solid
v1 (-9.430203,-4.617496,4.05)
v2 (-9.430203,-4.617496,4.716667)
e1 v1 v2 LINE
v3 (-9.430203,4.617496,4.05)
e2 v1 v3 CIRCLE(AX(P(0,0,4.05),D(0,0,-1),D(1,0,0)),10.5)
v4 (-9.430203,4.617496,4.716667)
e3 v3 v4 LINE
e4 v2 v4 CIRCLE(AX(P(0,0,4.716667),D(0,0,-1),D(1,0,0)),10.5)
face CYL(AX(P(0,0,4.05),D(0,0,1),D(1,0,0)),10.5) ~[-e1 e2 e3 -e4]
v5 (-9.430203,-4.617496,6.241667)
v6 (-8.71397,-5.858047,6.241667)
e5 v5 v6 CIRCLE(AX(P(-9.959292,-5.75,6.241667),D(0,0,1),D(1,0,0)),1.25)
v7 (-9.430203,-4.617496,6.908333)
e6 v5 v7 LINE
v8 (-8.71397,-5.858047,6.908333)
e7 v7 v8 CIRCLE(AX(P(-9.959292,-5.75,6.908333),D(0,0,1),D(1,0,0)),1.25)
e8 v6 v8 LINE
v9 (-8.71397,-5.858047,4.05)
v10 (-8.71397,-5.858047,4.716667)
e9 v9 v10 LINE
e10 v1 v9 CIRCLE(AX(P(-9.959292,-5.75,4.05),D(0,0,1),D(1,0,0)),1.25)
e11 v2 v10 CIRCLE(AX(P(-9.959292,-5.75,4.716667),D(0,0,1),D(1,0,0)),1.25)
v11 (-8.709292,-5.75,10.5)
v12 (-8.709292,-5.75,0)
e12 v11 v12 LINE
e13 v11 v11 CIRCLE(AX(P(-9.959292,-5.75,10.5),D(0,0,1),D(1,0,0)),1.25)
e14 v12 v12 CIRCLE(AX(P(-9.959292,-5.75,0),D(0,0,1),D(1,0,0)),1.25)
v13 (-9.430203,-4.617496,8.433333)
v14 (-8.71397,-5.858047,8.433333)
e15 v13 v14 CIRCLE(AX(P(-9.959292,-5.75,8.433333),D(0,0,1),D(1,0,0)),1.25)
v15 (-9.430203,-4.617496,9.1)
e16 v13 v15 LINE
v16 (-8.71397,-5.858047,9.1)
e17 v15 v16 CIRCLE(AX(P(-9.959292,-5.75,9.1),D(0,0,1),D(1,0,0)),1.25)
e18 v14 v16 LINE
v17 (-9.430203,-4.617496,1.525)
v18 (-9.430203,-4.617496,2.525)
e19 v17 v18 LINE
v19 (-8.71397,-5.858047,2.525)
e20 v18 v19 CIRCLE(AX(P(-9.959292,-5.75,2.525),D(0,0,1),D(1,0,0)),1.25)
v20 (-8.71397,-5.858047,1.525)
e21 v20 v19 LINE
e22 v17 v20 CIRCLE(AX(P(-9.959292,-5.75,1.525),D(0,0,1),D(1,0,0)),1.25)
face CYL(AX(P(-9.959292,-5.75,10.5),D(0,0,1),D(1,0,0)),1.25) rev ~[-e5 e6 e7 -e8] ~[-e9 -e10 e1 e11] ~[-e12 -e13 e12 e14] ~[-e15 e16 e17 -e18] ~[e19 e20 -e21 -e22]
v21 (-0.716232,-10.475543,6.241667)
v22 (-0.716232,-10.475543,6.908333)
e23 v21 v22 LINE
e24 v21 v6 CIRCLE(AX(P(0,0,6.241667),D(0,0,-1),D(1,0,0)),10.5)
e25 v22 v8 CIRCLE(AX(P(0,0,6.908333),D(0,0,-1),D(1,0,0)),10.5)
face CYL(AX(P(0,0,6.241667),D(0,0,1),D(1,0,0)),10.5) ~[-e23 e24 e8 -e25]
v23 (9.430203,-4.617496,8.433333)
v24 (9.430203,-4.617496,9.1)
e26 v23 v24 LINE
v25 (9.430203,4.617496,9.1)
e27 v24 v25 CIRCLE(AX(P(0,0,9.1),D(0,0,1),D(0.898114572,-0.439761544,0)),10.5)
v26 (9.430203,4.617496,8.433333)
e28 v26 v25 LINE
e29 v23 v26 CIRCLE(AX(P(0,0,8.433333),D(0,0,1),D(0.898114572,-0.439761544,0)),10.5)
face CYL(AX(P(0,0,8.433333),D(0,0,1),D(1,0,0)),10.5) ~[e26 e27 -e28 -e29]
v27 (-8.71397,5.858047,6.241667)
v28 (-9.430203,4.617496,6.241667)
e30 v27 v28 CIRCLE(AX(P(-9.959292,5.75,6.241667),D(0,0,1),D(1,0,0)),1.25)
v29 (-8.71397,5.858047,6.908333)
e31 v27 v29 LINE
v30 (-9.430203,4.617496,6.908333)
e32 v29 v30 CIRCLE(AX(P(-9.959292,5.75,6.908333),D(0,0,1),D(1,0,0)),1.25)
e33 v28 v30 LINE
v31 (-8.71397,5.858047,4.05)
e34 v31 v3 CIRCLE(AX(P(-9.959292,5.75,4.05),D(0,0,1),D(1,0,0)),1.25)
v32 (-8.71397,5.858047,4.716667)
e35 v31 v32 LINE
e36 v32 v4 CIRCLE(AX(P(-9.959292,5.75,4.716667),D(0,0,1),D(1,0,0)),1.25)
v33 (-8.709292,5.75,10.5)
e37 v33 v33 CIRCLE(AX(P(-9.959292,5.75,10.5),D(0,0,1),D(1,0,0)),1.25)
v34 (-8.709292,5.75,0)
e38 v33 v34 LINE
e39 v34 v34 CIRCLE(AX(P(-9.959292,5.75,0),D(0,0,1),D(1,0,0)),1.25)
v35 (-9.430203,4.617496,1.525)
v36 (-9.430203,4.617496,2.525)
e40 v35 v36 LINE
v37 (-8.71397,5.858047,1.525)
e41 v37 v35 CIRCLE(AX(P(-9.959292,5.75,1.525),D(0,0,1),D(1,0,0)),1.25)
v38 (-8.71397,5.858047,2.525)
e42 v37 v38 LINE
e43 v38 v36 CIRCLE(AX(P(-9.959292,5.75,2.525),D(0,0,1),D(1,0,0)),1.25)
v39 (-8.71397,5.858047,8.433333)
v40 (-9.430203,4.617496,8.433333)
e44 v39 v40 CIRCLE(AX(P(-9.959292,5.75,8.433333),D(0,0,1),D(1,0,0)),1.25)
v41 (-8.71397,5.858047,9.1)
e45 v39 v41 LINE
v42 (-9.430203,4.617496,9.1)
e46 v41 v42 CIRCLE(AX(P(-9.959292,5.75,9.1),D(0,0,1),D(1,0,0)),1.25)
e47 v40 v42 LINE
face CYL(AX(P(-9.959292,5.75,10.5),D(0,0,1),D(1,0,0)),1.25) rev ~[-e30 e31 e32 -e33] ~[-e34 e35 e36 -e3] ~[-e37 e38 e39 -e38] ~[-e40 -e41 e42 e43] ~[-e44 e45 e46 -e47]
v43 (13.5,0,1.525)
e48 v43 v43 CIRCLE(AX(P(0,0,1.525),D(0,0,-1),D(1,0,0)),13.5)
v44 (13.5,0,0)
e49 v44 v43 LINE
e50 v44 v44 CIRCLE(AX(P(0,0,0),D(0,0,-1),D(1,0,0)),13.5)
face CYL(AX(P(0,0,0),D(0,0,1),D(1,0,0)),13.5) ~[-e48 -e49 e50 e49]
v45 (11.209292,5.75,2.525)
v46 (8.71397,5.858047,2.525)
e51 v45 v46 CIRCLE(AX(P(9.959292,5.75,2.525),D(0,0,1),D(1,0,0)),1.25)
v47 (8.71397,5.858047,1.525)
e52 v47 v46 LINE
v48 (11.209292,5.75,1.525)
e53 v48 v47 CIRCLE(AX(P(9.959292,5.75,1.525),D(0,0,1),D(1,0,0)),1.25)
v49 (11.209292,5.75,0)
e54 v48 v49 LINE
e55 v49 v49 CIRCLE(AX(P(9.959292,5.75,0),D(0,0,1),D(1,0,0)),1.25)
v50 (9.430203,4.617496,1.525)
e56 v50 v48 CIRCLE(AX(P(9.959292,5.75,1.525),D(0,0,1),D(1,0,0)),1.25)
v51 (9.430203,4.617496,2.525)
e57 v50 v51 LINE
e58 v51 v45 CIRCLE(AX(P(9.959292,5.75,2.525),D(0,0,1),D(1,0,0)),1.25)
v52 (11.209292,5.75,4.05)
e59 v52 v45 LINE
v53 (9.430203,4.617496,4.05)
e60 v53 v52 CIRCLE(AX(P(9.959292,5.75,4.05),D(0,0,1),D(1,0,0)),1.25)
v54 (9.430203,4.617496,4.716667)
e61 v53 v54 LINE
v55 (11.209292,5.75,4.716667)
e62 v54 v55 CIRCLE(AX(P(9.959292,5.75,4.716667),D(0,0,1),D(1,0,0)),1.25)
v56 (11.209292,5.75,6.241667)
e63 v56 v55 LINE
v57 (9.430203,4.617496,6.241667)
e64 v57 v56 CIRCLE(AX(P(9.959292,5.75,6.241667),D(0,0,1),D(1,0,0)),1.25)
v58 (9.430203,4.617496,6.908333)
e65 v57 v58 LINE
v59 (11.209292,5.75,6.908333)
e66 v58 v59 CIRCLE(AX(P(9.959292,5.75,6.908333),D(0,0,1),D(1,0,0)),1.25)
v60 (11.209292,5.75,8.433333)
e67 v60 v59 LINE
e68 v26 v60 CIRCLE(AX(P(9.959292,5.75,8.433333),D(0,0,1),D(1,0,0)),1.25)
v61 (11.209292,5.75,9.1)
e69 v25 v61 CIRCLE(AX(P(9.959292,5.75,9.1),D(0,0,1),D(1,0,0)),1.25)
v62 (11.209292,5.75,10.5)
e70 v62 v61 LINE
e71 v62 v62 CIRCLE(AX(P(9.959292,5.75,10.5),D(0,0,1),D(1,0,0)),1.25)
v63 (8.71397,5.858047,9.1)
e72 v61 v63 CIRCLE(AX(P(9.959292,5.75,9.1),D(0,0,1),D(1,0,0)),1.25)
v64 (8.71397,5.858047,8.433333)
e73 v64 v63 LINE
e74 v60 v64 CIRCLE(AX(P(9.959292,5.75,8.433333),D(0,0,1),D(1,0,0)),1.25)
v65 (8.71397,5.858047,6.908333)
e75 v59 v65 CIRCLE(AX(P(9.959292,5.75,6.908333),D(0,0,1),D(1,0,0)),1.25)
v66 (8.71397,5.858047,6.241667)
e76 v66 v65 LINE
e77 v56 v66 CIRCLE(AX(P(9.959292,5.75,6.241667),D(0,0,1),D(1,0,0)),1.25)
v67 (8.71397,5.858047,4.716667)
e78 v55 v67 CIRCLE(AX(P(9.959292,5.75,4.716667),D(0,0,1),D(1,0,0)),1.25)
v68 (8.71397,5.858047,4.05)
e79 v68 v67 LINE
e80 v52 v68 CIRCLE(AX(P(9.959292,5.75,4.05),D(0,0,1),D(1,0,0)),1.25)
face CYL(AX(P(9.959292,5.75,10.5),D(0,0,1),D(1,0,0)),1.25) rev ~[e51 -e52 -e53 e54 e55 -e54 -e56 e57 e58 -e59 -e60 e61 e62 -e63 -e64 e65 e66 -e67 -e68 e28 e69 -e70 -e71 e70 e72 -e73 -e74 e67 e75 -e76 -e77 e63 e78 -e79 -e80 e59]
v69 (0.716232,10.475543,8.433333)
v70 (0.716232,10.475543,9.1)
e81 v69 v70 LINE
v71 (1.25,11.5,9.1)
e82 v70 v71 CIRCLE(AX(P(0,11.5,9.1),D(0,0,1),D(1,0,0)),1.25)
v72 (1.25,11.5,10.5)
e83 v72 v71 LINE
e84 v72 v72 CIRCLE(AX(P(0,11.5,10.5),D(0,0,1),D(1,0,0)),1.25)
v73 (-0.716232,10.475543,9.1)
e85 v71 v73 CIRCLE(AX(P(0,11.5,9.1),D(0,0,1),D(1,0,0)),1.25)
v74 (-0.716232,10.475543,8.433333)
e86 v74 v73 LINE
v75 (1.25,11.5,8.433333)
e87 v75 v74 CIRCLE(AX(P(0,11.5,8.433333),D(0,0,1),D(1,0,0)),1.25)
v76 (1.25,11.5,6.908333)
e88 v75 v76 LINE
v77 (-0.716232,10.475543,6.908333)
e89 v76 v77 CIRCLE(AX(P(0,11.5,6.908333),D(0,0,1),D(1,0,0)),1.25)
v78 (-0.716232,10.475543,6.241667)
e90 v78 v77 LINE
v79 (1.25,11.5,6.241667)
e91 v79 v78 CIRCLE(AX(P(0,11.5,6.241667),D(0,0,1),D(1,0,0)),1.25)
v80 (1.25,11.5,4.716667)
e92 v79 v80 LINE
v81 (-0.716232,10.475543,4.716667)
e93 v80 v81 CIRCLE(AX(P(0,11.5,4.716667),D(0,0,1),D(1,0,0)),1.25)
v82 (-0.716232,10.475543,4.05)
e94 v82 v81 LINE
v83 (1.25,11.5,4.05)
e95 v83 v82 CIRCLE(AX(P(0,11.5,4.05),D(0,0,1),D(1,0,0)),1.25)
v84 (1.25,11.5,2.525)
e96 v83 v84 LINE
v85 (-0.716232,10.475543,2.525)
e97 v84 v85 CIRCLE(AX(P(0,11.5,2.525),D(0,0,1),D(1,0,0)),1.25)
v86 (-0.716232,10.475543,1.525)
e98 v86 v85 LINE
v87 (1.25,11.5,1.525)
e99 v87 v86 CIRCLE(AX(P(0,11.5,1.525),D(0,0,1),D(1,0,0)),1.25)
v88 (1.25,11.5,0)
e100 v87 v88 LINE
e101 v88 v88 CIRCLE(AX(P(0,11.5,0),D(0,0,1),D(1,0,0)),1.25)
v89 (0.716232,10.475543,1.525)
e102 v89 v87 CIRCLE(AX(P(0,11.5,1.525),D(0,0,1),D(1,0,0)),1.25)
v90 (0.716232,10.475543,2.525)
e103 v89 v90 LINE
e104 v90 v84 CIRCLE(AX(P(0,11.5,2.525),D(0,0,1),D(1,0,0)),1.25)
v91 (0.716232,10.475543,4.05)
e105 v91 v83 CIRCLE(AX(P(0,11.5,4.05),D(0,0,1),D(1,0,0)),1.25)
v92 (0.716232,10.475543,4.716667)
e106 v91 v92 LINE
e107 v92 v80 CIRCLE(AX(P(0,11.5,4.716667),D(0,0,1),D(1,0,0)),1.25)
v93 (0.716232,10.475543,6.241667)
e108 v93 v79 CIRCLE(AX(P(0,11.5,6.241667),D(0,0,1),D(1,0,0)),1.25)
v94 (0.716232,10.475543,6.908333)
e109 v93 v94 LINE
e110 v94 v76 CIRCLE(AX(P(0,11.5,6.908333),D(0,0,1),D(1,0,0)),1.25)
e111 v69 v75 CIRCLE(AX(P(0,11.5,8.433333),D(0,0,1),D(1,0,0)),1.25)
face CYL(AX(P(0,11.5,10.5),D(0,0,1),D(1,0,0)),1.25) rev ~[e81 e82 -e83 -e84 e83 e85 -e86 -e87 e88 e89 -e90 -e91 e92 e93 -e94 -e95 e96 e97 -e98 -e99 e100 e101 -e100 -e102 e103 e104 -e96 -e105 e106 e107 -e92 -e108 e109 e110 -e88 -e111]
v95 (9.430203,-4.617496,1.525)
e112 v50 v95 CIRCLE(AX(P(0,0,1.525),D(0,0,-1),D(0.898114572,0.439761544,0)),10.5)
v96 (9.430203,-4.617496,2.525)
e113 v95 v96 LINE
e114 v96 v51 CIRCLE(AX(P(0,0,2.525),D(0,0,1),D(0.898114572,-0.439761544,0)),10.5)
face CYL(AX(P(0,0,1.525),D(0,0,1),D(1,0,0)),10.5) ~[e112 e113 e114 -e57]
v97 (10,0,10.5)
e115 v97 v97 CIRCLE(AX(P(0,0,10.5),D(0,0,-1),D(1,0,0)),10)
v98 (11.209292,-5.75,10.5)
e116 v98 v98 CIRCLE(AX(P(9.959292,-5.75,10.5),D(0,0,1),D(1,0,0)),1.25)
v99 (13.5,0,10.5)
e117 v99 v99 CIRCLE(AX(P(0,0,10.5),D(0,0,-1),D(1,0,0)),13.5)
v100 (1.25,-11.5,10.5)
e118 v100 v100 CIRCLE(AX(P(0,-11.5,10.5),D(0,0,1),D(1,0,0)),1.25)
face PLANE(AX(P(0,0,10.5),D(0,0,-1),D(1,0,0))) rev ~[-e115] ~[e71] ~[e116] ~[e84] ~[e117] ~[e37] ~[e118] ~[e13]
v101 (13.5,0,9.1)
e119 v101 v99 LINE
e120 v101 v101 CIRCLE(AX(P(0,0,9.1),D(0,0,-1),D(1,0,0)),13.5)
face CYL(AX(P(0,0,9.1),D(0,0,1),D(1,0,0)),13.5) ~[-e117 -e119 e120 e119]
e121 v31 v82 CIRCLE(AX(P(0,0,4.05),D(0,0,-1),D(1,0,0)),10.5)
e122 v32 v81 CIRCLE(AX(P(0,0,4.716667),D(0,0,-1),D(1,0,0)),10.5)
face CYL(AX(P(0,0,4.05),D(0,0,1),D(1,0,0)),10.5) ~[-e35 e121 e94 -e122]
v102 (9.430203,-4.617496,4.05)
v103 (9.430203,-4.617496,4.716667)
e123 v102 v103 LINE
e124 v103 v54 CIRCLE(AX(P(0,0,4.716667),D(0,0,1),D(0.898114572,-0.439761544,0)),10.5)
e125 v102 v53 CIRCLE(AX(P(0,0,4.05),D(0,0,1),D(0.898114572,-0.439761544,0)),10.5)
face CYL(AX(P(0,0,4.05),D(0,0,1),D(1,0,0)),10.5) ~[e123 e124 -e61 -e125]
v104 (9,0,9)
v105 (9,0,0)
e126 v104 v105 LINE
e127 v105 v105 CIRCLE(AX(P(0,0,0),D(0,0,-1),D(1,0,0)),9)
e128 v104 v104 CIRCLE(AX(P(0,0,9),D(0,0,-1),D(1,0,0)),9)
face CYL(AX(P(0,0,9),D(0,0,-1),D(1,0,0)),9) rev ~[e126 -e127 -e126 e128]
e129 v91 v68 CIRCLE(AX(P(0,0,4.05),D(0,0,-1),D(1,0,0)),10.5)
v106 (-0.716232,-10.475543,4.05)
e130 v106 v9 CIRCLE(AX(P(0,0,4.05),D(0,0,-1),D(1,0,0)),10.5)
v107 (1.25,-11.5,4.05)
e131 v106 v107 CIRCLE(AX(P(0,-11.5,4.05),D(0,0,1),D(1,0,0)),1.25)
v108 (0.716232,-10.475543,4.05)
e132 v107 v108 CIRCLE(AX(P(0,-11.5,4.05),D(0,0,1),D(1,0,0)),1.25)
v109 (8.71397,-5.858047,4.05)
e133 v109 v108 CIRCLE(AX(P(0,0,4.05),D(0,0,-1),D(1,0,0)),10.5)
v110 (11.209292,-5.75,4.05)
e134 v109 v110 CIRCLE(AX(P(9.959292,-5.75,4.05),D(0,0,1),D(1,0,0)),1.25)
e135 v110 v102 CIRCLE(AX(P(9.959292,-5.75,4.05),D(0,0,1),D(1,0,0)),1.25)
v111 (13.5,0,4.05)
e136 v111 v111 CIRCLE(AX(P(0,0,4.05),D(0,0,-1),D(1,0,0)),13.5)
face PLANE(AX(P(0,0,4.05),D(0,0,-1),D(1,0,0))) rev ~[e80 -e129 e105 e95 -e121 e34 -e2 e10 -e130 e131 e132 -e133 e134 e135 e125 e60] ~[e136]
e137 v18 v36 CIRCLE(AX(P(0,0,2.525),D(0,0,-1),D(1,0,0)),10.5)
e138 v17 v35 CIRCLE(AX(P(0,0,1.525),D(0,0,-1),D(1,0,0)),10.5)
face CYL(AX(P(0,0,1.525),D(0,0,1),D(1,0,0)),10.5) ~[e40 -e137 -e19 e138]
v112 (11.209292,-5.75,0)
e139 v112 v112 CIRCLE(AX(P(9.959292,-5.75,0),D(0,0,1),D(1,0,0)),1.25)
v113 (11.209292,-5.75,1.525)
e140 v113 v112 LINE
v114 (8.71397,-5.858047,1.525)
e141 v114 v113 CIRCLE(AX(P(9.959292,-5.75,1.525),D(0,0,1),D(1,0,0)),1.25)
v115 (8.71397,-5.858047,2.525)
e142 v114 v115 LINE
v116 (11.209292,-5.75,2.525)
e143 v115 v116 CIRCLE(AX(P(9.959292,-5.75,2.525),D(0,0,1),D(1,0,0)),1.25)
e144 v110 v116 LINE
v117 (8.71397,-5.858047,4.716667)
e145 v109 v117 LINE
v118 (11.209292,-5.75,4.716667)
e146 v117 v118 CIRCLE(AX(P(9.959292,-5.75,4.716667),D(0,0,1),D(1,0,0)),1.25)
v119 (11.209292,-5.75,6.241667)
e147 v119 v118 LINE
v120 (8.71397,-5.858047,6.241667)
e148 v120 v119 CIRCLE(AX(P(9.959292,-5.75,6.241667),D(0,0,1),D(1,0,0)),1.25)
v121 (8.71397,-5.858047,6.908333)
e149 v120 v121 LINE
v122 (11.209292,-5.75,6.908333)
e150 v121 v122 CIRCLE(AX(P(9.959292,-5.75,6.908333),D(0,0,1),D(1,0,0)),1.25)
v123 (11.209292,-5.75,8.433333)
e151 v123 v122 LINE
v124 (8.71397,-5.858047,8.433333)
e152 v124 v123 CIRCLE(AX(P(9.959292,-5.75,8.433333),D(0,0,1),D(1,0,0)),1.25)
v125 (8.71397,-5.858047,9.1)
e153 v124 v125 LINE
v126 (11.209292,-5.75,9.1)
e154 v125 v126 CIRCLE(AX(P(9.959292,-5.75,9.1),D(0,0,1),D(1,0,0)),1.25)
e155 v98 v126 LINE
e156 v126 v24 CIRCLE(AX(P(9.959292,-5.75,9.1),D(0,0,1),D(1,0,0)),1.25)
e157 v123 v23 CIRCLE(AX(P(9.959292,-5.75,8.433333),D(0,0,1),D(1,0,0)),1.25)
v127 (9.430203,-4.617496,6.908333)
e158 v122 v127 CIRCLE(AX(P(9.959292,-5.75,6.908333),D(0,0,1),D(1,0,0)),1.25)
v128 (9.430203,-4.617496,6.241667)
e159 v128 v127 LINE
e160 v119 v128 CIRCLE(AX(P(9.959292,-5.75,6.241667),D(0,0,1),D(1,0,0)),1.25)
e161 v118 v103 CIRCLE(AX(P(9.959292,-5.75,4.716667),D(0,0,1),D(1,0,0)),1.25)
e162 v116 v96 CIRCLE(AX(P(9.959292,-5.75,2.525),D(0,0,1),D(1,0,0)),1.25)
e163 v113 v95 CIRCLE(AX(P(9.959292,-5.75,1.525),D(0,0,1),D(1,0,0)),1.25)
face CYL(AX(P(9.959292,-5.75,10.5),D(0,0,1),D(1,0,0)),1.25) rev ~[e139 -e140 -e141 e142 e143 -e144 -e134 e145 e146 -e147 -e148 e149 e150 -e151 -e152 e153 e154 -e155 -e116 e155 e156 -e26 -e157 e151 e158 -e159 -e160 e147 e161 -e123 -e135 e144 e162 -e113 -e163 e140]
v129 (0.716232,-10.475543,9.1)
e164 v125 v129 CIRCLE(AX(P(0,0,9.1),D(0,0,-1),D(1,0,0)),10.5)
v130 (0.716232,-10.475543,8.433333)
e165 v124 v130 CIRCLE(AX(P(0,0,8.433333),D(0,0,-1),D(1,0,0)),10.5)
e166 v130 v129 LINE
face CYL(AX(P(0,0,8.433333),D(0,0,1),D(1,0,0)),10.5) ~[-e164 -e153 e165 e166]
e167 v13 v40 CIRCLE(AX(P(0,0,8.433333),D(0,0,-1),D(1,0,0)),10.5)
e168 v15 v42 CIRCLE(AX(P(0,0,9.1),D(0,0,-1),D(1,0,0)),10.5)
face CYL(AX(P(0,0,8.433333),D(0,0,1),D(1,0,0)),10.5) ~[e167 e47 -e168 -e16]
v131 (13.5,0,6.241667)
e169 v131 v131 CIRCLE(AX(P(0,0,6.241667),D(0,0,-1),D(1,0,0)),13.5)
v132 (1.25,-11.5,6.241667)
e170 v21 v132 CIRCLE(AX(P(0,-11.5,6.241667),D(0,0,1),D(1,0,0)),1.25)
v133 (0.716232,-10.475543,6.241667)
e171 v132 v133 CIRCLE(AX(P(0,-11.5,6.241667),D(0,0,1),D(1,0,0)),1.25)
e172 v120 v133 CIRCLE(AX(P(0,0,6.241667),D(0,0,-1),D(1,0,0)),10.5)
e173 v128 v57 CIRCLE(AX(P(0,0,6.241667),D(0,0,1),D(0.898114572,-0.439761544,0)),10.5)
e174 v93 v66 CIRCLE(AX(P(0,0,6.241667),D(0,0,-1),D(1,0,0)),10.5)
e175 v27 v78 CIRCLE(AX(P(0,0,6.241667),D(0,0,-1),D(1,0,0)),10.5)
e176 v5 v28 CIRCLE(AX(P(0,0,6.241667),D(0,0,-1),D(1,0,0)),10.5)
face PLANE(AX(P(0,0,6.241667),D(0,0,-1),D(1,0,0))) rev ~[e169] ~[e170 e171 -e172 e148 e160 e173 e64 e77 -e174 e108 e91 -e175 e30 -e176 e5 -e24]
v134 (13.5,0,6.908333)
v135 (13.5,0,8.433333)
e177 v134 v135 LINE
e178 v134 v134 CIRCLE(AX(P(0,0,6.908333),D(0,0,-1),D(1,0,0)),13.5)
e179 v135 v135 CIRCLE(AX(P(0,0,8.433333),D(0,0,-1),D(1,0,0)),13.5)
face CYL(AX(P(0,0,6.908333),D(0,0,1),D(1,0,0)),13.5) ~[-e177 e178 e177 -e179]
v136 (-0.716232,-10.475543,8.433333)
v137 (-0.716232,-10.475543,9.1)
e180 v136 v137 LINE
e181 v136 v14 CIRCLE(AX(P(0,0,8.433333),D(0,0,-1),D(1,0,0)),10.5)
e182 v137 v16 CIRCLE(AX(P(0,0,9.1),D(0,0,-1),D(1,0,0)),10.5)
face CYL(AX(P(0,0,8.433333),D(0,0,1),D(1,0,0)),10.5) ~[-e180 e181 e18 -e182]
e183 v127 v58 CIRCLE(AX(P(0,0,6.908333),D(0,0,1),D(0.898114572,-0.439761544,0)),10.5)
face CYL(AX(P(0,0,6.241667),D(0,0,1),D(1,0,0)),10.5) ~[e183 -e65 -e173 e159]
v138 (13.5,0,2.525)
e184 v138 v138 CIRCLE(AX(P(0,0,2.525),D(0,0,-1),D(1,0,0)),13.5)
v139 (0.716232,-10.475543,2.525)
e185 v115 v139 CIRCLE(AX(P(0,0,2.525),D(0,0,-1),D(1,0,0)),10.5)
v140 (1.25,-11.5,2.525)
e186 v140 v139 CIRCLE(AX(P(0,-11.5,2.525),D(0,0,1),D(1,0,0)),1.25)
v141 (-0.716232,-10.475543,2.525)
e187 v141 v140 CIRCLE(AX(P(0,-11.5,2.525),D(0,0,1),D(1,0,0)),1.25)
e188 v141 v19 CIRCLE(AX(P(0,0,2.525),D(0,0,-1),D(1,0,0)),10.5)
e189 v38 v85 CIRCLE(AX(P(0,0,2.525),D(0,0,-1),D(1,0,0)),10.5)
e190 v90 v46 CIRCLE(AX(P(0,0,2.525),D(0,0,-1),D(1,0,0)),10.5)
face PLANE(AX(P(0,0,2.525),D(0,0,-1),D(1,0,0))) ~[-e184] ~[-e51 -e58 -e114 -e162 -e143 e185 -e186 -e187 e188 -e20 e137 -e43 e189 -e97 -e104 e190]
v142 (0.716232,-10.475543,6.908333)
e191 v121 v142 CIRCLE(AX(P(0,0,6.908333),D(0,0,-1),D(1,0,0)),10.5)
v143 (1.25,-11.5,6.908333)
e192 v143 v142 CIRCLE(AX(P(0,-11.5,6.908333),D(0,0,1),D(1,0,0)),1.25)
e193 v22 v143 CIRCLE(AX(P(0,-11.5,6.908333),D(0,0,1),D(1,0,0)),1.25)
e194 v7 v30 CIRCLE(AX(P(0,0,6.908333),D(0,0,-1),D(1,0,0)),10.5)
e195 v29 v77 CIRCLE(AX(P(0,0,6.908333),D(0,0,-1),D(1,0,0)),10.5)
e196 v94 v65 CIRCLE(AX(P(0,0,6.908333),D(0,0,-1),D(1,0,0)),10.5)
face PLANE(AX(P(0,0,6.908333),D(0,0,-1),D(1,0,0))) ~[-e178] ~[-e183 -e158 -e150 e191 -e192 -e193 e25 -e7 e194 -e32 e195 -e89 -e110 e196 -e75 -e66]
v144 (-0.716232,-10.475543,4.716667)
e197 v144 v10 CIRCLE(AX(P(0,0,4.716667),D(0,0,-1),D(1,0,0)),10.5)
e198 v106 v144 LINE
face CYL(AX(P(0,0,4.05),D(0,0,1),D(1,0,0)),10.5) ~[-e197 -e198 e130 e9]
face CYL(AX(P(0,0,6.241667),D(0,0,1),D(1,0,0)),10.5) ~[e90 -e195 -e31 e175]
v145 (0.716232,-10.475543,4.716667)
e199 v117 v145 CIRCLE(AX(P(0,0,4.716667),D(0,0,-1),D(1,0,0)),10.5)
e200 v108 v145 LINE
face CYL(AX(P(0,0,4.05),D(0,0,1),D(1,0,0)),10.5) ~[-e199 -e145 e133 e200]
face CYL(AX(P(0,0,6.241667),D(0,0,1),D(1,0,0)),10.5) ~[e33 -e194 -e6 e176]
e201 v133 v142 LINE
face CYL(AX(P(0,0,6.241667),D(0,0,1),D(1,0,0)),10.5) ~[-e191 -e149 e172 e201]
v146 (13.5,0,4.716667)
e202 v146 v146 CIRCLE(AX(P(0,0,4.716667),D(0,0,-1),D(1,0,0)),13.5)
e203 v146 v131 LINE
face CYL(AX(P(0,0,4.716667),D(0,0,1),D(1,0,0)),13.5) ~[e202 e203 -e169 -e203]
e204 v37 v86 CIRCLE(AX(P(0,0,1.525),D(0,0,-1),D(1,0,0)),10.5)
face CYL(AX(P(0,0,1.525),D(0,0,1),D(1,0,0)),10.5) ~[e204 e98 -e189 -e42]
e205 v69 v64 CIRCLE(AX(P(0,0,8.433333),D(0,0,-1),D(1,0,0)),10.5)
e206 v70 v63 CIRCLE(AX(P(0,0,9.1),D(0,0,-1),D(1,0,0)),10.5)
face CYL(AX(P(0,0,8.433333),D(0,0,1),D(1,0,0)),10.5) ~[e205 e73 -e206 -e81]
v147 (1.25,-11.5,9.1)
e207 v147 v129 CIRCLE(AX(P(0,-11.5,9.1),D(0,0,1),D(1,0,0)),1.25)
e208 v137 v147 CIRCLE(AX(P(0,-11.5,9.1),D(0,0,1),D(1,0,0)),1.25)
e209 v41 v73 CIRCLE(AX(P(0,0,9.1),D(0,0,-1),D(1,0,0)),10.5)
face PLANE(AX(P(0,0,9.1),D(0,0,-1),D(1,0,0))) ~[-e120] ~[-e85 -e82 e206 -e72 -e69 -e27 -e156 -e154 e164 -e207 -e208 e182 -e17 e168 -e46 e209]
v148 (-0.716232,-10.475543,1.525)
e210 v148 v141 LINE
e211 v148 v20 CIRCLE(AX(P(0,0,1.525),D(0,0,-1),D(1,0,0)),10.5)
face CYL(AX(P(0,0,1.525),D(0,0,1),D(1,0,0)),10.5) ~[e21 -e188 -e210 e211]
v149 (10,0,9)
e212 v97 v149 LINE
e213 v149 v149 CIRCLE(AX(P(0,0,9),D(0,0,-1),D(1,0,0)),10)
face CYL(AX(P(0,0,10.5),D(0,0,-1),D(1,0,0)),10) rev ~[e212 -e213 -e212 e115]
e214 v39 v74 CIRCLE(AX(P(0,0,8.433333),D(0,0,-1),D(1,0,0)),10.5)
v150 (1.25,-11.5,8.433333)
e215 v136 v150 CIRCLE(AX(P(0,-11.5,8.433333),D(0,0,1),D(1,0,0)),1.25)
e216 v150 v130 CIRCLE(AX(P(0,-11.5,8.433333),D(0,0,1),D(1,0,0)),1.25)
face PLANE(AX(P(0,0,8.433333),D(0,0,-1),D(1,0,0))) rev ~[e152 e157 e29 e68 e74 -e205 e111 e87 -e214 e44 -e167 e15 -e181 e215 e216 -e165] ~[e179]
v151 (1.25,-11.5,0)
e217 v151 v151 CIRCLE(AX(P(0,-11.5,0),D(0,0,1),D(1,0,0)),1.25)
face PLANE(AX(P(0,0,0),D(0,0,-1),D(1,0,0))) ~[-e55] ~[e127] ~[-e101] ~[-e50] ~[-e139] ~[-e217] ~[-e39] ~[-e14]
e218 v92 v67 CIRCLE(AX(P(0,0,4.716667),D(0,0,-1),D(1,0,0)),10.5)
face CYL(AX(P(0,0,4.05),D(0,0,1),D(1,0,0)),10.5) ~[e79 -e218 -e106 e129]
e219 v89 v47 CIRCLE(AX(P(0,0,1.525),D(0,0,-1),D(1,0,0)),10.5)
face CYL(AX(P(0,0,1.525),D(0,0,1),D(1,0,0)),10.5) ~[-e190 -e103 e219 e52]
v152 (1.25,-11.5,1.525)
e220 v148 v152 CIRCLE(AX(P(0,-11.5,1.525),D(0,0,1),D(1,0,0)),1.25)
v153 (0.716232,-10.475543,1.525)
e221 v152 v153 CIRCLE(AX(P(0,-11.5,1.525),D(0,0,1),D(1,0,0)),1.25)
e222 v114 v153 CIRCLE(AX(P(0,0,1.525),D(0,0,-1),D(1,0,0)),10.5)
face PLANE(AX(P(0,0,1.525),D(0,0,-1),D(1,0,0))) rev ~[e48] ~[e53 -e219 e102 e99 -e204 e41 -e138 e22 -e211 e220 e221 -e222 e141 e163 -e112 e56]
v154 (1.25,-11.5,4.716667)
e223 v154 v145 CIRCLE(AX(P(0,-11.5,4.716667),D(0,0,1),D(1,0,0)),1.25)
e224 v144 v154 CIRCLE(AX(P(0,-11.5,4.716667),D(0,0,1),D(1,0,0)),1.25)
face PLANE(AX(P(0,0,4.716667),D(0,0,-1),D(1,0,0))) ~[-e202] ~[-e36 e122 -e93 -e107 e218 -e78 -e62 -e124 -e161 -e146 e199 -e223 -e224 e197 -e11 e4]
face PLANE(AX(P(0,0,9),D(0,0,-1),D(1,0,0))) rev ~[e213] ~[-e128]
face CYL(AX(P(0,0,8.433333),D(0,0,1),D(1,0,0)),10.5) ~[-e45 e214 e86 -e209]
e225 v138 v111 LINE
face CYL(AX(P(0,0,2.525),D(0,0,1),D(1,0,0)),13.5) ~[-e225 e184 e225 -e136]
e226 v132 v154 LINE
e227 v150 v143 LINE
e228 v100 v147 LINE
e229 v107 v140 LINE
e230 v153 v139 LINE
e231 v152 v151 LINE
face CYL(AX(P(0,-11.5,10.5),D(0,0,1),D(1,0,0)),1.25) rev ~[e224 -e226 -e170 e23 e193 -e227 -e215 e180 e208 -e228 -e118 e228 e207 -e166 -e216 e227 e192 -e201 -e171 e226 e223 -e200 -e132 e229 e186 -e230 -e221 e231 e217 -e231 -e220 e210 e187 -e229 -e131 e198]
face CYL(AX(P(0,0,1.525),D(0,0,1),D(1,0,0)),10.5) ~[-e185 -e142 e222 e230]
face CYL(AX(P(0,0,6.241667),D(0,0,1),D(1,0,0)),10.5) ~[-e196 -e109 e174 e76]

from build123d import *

# Parameters (mm, degrees)
F2_R     = 1.25
F3_DEPTH = 25


with BuildPart() as f1:
    # F0 (on Front) → F1 (revolve)
    with BuildSketch(Plane.XZ):
        Polygon((9, 9), (9, 0), (13.5, 0), (13.5, 1.525), (10.5, 1.525), (10.5, 2.525), (13.5, 2.525), (13.5, 4.05), (10.5, 4.05), (10.5, 4.716667), (13.5, 4.716667), (13.5, 6.241667), (10.5, 6.241667), (10.5, 6.908333), (13.5, 6.908333), (13.5, 8.433333), (10.5, 8.433333), (10.5, 9.1), (13.5, 9.1), (13.5, 10.5), (10, 10.5), (10, 9), align=None)
    revolve(axis=Axis((0, 0, 1e-06), (0, 0, -1)))

    # F2 (on face) → F3 (cut)
    with BuildSketch(Plane.XY.offset(10.5)):
        with Locations((0, 11.5)):
            Circle(F2_R)
        with Locations((-9.959292, 5.75)):
            Circle(F2_R)
        with Locations((-9.959292, -5.75)):
            Circle(F2_R)
        with Locations((0, -11.5)):
            Circle(F2_R)
        with Locations((9.959292, -5.75)):
            Circle(F2_R)
        with Locations((9.959292, 5.75)):
            Circle(F2_R)
    extrude(amount=-F3_DEPTH, mode=Mode.SUBTRACT)


solid = f1.part
